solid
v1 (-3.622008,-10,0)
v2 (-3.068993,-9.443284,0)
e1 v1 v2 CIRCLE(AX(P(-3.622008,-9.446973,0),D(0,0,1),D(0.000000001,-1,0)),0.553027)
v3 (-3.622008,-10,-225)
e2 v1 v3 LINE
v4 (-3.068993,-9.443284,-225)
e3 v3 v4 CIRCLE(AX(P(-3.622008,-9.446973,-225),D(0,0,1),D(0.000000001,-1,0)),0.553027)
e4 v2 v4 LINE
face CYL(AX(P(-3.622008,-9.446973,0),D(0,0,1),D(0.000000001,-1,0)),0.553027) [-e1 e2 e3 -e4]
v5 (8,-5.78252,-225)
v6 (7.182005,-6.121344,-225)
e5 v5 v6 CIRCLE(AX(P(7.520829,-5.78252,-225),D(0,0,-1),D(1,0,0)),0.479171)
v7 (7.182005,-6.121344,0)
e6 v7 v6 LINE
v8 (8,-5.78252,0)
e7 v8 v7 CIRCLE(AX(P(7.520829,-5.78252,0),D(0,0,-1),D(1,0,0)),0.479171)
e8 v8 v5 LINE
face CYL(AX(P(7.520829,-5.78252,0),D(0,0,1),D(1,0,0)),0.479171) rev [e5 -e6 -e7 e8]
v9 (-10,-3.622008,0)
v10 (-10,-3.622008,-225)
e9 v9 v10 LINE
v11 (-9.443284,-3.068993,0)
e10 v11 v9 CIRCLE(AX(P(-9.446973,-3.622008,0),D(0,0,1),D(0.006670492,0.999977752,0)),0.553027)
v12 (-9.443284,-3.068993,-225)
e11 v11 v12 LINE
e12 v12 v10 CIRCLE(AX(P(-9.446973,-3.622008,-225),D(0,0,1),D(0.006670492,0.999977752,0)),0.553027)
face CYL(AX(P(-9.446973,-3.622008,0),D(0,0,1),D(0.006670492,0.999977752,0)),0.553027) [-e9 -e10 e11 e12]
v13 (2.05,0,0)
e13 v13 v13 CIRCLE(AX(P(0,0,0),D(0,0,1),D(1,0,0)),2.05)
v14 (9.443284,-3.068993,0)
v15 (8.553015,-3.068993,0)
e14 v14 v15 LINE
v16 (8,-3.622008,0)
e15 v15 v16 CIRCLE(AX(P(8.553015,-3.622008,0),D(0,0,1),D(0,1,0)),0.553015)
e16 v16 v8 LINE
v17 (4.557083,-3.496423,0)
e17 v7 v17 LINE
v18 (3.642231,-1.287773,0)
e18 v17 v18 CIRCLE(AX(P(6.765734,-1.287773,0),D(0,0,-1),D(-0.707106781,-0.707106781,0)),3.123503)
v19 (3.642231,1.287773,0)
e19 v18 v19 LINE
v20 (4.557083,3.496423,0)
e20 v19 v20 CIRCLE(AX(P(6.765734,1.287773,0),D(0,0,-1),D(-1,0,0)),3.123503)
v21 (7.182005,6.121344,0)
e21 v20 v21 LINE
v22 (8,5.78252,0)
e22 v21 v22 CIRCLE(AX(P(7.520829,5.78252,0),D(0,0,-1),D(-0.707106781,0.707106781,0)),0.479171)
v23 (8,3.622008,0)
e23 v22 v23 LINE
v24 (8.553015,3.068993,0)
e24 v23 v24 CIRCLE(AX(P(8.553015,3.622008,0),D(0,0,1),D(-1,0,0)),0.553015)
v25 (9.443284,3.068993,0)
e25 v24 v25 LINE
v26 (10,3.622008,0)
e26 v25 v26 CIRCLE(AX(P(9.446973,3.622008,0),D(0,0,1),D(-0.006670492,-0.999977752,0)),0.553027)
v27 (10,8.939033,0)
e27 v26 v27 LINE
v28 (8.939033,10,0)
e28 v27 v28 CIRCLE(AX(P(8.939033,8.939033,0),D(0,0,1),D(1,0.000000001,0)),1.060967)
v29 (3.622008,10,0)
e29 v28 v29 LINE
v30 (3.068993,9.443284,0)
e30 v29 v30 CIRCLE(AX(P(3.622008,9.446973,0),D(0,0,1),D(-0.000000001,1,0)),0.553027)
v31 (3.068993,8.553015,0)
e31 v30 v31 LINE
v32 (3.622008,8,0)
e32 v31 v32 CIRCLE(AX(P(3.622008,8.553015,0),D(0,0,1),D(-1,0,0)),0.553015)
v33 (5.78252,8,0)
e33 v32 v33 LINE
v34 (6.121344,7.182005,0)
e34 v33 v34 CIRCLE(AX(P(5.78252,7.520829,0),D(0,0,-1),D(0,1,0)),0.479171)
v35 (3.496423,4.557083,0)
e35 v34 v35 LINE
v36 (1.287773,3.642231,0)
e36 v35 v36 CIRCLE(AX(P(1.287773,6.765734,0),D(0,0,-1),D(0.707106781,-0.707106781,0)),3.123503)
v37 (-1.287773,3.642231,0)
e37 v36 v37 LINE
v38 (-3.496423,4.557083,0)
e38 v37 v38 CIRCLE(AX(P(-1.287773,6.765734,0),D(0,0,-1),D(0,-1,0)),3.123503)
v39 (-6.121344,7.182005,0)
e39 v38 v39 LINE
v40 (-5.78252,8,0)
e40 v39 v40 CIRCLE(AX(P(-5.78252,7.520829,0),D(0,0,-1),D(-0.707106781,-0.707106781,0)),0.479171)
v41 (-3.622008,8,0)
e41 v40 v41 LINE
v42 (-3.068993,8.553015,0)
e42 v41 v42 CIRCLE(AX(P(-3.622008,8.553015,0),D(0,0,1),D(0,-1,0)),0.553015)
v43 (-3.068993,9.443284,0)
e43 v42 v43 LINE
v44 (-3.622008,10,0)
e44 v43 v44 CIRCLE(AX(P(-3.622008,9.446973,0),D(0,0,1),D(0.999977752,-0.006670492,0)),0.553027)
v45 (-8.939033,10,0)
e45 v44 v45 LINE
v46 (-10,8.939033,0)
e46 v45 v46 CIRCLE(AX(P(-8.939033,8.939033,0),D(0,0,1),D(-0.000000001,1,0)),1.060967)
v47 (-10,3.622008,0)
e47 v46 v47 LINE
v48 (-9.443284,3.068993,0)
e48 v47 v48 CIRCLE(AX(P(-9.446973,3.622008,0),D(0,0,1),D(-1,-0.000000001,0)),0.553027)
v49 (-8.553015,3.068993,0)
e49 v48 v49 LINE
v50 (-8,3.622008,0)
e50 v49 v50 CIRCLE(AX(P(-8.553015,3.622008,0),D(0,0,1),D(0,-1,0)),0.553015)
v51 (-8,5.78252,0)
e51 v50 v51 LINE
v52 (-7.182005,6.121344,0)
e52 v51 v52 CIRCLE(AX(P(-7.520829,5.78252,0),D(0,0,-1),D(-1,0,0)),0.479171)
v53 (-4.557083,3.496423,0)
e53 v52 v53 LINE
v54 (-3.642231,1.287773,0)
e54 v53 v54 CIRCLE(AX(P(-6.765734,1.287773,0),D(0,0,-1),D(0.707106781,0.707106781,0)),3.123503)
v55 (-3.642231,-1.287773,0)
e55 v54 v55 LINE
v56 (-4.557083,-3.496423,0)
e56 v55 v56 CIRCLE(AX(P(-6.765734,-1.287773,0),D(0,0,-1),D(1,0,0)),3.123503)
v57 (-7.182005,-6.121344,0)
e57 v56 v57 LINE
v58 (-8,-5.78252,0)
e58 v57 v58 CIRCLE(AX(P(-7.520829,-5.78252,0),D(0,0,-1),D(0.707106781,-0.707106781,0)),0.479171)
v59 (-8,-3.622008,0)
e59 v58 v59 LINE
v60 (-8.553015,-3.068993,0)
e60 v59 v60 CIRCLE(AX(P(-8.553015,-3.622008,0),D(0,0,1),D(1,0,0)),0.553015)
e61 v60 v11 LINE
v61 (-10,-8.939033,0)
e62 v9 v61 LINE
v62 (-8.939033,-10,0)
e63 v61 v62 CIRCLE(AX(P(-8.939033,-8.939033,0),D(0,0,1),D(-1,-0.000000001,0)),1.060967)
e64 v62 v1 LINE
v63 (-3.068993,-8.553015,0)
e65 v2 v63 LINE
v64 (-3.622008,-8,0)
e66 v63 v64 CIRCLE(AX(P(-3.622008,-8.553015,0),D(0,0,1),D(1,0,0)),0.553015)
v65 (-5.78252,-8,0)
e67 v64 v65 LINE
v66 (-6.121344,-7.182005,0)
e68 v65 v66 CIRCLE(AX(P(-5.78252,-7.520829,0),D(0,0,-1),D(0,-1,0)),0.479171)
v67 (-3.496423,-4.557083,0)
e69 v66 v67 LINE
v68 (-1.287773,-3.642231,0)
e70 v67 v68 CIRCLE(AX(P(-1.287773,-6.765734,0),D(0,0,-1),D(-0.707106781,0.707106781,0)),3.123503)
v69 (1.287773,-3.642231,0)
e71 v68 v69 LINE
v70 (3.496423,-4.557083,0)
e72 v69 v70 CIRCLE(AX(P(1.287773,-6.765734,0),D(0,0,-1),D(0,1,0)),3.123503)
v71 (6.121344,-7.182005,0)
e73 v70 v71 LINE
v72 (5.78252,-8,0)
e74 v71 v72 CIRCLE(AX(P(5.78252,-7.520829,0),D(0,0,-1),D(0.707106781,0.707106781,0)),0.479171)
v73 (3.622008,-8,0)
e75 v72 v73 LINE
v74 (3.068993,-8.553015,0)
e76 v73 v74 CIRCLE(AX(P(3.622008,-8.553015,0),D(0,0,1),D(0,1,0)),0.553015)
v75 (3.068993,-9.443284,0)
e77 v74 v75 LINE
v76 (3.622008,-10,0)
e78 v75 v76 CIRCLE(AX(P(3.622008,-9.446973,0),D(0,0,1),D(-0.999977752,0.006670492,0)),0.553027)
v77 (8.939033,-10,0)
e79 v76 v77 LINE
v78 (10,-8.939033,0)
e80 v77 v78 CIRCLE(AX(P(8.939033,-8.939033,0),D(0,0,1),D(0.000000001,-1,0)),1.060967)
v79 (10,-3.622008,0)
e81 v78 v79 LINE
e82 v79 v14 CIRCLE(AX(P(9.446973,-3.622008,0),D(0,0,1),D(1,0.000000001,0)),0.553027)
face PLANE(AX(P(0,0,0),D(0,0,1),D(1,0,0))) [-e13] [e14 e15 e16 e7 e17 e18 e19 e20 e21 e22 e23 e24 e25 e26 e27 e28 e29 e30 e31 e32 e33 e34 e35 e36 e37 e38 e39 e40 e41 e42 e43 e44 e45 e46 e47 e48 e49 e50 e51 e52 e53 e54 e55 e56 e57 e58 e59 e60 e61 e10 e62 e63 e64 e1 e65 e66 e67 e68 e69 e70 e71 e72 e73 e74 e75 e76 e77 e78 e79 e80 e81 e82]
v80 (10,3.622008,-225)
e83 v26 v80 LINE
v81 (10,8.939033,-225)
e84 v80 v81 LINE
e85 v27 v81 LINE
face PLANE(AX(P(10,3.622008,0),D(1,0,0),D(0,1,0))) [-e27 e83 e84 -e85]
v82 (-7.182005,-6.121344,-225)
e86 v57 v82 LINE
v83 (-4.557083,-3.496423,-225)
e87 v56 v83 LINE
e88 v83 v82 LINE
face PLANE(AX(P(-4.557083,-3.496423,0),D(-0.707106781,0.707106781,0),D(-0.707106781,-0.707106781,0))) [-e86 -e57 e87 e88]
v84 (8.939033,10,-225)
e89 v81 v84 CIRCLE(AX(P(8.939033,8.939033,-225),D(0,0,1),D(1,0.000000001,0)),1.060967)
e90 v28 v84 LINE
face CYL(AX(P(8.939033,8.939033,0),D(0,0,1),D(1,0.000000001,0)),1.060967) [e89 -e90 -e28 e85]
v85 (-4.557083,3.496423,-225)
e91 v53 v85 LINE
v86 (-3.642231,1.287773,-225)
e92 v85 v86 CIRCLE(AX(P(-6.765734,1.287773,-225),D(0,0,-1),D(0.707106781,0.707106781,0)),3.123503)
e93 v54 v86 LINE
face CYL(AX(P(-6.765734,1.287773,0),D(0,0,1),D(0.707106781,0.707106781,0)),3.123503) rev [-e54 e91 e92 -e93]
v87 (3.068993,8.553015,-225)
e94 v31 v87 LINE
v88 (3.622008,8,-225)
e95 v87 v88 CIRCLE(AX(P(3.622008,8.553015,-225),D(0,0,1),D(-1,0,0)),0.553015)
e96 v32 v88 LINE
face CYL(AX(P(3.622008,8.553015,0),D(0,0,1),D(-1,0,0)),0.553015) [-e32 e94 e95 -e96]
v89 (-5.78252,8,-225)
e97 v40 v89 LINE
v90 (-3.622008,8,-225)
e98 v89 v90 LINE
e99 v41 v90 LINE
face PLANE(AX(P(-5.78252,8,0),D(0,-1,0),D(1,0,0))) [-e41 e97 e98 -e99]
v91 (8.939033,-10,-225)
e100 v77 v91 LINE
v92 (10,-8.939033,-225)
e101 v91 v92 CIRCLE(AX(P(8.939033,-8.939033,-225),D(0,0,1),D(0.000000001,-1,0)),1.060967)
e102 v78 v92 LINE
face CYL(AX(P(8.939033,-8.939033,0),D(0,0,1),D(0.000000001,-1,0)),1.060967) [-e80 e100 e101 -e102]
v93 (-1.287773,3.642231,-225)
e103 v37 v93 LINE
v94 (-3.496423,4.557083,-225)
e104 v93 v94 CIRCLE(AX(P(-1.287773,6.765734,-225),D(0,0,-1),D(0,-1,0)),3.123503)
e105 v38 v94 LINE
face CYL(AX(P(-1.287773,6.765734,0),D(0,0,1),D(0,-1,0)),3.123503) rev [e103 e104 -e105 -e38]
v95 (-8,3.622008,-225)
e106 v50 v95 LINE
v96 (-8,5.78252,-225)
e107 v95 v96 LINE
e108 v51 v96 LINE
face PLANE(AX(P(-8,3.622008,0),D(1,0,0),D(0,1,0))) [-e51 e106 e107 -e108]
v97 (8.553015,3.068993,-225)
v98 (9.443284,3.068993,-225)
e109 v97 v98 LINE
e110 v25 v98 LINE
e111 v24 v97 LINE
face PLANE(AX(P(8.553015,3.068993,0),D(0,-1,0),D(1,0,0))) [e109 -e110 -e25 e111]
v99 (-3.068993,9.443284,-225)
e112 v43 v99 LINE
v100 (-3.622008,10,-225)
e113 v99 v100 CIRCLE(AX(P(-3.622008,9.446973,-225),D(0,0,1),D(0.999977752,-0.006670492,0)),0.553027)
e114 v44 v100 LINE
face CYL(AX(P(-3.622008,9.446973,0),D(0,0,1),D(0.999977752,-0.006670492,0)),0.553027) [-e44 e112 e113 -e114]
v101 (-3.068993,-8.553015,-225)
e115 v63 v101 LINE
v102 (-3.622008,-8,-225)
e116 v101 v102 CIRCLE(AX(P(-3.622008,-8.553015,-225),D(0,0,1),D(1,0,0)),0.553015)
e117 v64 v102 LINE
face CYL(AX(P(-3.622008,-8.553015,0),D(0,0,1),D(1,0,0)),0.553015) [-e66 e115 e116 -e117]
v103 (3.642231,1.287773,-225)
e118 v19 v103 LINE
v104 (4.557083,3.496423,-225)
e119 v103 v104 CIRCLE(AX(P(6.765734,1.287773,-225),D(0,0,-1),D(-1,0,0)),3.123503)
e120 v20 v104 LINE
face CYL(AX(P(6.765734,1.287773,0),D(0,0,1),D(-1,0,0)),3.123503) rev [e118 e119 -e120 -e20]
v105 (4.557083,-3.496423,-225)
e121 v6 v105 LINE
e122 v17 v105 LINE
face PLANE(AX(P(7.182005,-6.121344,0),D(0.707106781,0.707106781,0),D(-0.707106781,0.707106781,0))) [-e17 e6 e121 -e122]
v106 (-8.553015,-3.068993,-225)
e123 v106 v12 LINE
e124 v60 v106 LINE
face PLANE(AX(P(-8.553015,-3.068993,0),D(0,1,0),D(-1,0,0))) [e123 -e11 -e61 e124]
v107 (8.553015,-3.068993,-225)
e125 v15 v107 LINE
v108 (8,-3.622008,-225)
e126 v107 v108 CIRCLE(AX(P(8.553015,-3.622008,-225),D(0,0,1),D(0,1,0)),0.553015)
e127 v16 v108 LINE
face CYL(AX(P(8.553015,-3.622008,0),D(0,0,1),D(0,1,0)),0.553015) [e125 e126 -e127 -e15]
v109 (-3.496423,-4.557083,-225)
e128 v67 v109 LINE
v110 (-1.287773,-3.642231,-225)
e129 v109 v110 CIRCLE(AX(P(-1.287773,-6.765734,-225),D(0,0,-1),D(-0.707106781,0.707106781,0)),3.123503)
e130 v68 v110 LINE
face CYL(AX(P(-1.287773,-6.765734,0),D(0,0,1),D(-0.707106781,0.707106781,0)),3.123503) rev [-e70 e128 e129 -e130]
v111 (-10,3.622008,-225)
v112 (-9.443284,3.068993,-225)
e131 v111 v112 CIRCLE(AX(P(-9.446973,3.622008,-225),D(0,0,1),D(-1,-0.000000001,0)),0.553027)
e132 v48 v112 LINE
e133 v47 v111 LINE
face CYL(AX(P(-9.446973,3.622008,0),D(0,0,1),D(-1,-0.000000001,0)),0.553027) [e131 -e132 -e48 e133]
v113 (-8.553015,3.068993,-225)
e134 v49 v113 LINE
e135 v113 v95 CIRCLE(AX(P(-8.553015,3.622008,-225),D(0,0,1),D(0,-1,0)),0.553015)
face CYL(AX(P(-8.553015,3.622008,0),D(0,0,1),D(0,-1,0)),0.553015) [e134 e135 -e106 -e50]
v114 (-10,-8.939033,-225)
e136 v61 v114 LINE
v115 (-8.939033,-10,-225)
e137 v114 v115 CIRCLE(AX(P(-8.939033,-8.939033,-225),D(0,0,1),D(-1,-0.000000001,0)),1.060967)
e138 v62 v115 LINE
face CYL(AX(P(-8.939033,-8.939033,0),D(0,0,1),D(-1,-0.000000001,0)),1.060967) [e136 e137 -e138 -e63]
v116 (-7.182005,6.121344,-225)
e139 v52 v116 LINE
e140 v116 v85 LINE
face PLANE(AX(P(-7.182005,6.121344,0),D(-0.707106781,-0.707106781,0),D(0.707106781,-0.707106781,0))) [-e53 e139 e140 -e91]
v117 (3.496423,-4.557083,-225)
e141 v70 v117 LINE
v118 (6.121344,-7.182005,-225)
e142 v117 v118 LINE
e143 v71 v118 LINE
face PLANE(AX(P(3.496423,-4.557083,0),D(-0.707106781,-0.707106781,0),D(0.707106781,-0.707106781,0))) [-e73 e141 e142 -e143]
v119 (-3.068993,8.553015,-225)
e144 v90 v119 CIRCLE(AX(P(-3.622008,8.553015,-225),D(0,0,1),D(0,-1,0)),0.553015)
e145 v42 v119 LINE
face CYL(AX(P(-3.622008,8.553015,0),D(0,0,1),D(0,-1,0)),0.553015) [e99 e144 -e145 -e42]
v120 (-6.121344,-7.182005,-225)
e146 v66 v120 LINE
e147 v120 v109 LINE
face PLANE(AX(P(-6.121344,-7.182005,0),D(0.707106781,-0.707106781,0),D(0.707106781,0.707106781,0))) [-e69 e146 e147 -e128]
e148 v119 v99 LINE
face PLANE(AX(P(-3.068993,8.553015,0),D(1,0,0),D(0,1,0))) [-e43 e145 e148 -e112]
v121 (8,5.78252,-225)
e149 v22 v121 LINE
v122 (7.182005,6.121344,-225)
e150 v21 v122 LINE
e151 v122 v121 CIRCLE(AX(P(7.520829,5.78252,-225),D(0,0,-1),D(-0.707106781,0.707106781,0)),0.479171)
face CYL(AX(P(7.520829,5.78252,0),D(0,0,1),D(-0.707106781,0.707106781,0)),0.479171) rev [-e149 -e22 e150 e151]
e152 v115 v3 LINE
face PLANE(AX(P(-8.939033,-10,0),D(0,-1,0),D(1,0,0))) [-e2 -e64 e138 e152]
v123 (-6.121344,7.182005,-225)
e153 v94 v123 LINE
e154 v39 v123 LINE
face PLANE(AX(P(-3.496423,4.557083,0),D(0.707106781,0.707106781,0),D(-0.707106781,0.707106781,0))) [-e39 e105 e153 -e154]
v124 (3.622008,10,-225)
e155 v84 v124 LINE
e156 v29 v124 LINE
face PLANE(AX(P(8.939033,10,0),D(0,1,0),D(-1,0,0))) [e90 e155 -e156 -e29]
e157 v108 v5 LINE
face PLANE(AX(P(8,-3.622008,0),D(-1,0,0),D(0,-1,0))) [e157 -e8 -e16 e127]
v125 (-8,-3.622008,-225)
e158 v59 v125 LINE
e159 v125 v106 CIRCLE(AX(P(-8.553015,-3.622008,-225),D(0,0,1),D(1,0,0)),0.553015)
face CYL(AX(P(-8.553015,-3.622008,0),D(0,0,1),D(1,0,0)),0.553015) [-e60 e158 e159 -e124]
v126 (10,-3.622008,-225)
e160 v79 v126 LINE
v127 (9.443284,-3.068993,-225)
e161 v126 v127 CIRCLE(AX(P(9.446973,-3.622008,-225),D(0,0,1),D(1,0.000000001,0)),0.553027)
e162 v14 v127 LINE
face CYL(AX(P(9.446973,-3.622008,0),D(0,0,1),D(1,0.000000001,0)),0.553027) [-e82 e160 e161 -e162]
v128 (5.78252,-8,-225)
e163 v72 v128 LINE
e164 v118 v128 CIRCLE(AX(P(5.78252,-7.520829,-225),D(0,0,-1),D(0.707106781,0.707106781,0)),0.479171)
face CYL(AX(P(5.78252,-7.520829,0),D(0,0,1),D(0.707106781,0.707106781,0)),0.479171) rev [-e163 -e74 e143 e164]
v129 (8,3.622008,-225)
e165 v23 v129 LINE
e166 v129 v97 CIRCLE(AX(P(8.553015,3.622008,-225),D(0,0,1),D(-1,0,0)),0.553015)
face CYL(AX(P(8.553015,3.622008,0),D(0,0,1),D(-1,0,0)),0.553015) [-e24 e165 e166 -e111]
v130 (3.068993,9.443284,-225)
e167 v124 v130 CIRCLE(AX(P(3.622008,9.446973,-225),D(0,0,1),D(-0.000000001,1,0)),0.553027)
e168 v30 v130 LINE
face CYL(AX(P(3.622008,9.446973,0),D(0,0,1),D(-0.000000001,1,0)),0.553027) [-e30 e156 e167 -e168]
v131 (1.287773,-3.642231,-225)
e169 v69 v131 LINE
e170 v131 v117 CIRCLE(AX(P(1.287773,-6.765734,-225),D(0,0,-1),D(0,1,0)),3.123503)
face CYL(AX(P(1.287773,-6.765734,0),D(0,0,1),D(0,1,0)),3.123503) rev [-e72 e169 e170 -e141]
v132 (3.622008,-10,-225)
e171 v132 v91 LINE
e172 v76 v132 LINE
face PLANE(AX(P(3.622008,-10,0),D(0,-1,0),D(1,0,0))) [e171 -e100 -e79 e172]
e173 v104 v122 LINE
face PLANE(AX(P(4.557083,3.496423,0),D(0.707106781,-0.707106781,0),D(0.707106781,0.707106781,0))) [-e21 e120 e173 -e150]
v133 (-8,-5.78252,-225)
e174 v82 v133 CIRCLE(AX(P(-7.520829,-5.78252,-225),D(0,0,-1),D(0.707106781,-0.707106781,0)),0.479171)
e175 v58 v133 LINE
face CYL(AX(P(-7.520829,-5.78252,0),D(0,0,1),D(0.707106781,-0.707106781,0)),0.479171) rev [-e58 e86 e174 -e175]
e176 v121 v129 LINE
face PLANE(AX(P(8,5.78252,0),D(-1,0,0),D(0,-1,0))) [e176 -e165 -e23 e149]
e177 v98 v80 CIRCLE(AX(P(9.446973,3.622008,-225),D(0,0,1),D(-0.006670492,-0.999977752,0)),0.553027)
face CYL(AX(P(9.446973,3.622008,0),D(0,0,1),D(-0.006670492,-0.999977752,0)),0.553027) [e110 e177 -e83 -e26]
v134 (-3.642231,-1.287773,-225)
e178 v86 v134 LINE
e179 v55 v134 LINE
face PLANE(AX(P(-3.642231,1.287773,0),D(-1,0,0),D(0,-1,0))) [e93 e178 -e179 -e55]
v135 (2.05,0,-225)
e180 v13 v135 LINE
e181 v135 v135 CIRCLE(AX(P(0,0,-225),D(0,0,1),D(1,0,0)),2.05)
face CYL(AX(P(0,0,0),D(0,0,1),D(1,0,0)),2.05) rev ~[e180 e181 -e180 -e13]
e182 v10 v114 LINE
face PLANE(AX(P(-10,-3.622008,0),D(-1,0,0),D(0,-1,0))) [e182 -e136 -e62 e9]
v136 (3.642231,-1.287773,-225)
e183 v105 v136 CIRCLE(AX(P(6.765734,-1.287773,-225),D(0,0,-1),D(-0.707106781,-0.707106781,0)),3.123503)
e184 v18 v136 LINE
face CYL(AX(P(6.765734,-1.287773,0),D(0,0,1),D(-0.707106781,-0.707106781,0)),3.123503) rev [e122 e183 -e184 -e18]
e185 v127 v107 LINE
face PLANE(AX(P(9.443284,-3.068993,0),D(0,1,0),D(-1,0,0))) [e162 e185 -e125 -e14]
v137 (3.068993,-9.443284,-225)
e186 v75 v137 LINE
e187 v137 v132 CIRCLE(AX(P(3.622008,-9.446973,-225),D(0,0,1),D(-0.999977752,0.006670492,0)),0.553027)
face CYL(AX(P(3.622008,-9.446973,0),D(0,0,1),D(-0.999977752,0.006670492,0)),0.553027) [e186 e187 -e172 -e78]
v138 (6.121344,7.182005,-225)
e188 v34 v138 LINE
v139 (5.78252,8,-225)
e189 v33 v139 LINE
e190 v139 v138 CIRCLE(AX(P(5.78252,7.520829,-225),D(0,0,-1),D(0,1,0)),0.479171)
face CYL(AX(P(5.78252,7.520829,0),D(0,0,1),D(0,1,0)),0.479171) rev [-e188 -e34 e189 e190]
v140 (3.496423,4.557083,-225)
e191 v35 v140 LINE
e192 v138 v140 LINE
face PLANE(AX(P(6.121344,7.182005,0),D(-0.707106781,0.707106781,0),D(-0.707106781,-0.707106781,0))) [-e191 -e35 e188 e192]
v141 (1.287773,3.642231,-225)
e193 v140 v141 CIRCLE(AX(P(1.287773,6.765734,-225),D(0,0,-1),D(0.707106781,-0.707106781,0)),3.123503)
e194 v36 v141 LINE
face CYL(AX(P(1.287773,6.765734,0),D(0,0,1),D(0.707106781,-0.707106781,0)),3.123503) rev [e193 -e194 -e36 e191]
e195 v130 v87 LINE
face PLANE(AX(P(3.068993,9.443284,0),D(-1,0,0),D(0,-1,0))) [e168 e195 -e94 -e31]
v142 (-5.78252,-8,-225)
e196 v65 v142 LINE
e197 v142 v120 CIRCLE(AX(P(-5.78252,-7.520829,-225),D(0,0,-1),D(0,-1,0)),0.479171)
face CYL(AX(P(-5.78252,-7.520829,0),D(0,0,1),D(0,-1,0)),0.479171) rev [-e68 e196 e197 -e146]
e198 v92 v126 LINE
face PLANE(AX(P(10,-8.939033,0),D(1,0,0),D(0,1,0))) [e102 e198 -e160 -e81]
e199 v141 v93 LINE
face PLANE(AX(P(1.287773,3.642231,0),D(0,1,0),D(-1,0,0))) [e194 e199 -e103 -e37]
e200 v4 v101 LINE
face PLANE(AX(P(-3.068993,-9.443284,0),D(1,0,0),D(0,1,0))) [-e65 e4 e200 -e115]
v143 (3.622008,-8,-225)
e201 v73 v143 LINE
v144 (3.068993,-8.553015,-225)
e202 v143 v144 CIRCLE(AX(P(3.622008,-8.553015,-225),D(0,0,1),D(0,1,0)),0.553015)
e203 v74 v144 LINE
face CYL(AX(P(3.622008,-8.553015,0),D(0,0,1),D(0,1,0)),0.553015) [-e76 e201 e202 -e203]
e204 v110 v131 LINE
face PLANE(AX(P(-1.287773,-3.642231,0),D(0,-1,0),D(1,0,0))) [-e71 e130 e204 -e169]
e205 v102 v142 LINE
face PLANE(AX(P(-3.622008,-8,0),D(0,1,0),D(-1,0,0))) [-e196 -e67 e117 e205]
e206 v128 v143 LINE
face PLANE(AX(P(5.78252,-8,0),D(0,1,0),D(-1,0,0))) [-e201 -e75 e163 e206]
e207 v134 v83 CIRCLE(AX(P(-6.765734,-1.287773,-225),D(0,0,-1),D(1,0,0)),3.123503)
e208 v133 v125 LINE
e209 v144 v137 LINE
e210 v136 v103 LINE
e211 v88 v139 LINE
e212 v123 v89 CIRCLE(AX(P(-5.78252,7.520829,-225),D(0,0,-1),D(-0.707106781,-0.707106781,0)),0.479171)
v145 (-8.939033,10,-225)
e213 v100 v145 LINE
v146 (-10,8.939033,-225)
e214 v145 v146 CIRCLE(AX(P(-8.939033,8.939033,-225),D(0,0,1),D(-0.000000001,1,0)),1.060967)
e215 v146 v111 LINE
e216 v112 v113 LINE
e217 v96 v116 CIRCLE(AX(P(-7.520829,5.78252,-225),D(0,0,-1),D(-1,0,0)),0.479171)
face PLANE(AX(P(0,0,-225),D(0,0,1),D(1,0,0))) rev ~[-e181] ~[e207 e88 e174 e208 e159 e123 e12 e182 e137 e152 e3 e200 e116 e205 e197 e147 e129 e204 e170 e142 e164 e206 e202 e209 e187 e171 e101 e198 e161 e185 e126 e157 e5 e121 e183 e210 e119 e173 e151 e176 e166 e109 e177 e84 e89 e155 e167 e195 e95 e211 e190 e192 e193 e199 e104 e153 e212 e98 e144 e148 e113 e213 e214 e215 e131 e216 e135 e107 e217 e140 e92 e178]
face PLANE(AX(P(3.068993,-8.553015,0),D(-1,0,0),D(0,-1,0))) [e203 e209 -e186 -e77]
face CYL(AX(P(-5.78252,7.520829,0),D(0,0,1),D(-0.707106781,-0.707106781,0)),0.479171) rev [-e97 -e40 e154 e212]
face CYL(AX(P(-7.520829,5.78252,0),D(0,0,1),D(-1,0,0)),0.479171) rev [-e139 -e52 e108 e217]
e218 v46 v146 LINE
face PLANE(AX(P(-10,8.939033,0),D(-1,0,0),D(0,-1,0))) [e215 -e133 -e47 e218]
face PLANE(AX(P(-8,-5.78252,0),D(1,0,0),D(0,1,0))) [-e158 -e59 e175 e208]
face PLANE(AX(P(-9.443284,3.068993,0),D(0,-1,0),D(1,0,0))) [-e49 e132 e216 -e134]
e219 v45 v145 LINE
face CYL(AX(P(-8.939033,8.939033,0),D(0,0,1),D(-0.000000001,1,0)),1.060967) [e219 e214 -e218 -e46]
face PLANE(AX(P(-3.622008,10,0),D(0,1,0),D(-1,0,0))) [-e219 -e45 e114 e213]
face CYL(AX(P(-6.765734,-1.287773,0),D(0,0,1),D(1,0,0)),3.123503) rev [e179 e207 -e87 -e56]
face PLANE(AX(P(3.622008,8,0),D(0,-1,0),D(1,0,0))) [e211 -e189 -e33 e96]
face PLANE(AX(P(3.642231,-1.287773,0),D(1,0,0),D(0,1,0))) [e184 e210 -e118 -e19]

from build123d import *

# Parameters (mm, degrees)
SKETCH1_R           = 2.05
BOSS_EXTRUDE1_DEPTH = 225


with BuildPart() as part:
    # Sketch1 → Boss-Extrude1 (new body)
    with BuildSketch(Plane.XY):
        with BuildLine():
            Line((-3.642230561, 1.287773026), (-3.642230561, -1.287773026))
            ThreePointArc((-3.642230561, -1.287773026), (-3.87999308, -2.483085929), (-4.55708345, -3.496423279))
            Line((-4.55708345, -3.496423279), (-7.182004606, -6.121344434))
            ThreePointArc((-7.182004606, -6.121344434), (-7.704200045, -6.225215565), (-8, -5.782519648))
            Line((-8, -5.782519648), (-8, -3.622007668))
            ThreePointArc((-8, -3.622007668), (-8.161974206, -3.230967343), (-8.553014531, -3.068993137))
            Line((-8.553014531, -3.068993137), (-9.443284204, -3.068993137))
            ThreePointArc((-9.443284204, -3.068993137), (-9.836715763, -3.229656566), (-10, -3.622007668))
            Line((-10, -3.622007668), (-10, -8.939033256))
            ThreePointArc((-10, -8.939033256), (-9.689250035, -9.689250035), (-8.939033256, -10))
            Line((-8.939033256, -10), (-3.622007668, -10))
            ThreePointArc((-3.622007668, -10), (-3.229656566, -9.836715763), (-3.068993137, -9.443284204))
            Line((-3.068993137, -9.443284204), (-3.068993137, -8.553014531))
            ThreePointArc((-3.068993137, -8.553014531), (-3.230967343, -8.161974206), (-3.622007668, -8))
            Line((-3.622007668, -8), (-5.782519648, -8))
            ThreePointArc((-5.782519648, -8), (-6.225215565, -7.704200045), (-6.121344434, -7.182004606))
            Line((-6.121344434, -7.182004606), (-3.496423279, -4.55708345))
            ThreePointArc((-3.496423279, -4.55708345), (-2.483085929, -3.87999308), (-1.287773026, -3.642230561))
            Line((-1.287773026, -3.642230561), (1.287773026, -3.642230561))
            ThreePointArc((1.287773026, -3.642230561), (2.483085929, -3.87999308), (3.496423279, -4.55708345))
            Line((3.496423279, -4.55708345), (6.121344434, -7.182004606))
            ThreePointArc((6.121344434, -7.182004606), (6.225215565, -7.704200045), (5.782519648, -8))
            Line((5.782519648, -8), (3.622007668, -8))
            ThreePointArc((3.622007668, -8), (3.230967343, -8.161974206), (3.068993137, -8.553014531))
            Line((3.068993137, -8.553014531), (3.068993137, -9.443284204))
            ThreePointArc((3.068993137, -9.443284204), (3.229656566, -9.836715763), (3.622007668, -10))
            Line((3.622007668, -10), (8.939033256, -10))
            ThreePointArc((8.939033256, -10), (9.689250035, -9.689250035), (10, -8.939033256))
            Line((10, -8.939033256), (10, -3.622007668))
            ThreePointArc((10, -3.622007668), (9.836715763, -3.229656566), (9.443284204, -3.068993137))
            Line((9.443284204, -3.068993137), (8.553014531, -3.068993137))
            ThreePointArc((8.553014531, -3.068993137), (8.161974206, -3.230967343), (8, -3.622007668))
            Line((8, -3.622007668), (8, -5.782519648))
            ThreePointArc((8, -5.782519648), (7.704200045, -6.225215565), (7.182004606, -6.121344434))
            Line((7.182004606, -6.121344434), (4.55708345, -3.496423279))
            ThreePointArc((4.55708345, -3.496423279), (3.87999308, -2.483085929), (3.642230561, -1.287773026))
            Line((3.642230561, -1.287773026), (3.642230561, 1.287773026))
            ThreePointArc((3.642230561, 1.287773026), (3.87999308, 2.483085929), (4.55708345, 3.496423279))
            Line((4.55708345, 3.496423279), (7.182004606, 6.121344434))
            ThreePointArc((7.182004606, 6.121344434), (7.704200045, 6.225215565), (8, 5.782519648))
            Line((8, 5.782519648), (8, 3.622007668))
            ThreePointArc((8, 3.622007668), (8.161974206, 3.230967343), (8.553014531, 3.068993137))
            Line((8.553014531, 3.068993137), (9.443284204, 3.068993137))
            ThreePointArc((9.443284204, 3.068993137), (9.836715763, 3.229656566), (10, 3.622007668))
            Line((10, 3.622007668), (10, 8.939033256))
            ThreePointArc((10, 8.939033256), (9.689250035, 9.689250035), (8.939033256, 10))
            Line((8.939033256, 10), (3.622007668, 10))
            ThreePointArc((3.622007668, 10), (3.229656566, 9.836715763), (3.068993137, 9.443284204))
            Line((3.068993137, 9.443284204), (3.068993137, 8.553014531))
            ThreePointArc((3.068993137, 8.553014531), (3.230967343, 8.161974206), (3.622007668, 8))
            Line((3.622007668, 8), (5.782519648, 8))
            ThreePointArc((5.782519648, 8), (6.225215565, 7.704200045), (6.121344434, 7.182004606))
            Line((6.121344434, 7.182004606), (3.496423279, 4.55708345))
            ThreePointArc((3.496423279, 4.55708345), (2.483085929, 3.87999308), (1.287773026, 3.642230561))
            Line((1.287773026, 3.642230561), (-1.287773026, 3.642230561))
            ThreePointArc((-1.287773026, 3.642230561), (-2.483085929, 3.87999308), (-3.496423279, 4.55708345))
            Line((-3.496423279, 4.55708345), (-6.121344434, 7.182004606))
            ThreePointArc((-6.121344434, 7.182004606), (-6.225215565, 7.704200045), (-5.782519648, 8))
            Line((-5.782519648, 8), (-3.622007668, 8))
            ThreePointArc((-3.622007668, 8), (-3.230967343, 8.161974206), (-3.068993137, 8.553014531))
            Line((-3.068993137, 8.553014531), (-3.068993137, 9.443284204))
            ThreePointArc((-3.068993137, 9.443284204), (-3.229656566, 9.836715763), (-3.622007668, 10))
            Line((-3.622007668, 10), (-8.939033256, 10))
            ThreePointArc((-8.939033256, 10), (-9.689250035, 9.689250035), (-10, 8.939033256))
            Line((-10, 8.939033256), (-10, 3.622007668))
            ThreePointArc((-10, 3.622007668), (-9.836715763, 3.229656566), (-9.443284204, 3.068993137))
            Line((-9.443284204, 3.068993137), (-8.553014531, 3.068993137))
            ThreePointArc((-8.553014531, 3.068993137), (-8.161974206, 3.230967343), (-8, 3.622007668))
            Line((-8, 3.622007668), (-8, 5.782519648))
            ThreePointArc((-8, 5.782519648), (-7.704200045, 6.225215565), (-7.182004606, 6.121344434))
            Line((-7.182004606, 6.121344434), (-4.55708345, 3.496423279))
            ThreePointArc((-4.55708345, 3.496423279), (-3.87999308, 2.483085929), (-3.642230561, 1.287773026))
        make_face()
        Circle(SKETCH1_R, mode=Mode.SUBTRACT)
    extrude(amount=-BOSS_EXTRUDE1_DEPTH)


solid = part.part
